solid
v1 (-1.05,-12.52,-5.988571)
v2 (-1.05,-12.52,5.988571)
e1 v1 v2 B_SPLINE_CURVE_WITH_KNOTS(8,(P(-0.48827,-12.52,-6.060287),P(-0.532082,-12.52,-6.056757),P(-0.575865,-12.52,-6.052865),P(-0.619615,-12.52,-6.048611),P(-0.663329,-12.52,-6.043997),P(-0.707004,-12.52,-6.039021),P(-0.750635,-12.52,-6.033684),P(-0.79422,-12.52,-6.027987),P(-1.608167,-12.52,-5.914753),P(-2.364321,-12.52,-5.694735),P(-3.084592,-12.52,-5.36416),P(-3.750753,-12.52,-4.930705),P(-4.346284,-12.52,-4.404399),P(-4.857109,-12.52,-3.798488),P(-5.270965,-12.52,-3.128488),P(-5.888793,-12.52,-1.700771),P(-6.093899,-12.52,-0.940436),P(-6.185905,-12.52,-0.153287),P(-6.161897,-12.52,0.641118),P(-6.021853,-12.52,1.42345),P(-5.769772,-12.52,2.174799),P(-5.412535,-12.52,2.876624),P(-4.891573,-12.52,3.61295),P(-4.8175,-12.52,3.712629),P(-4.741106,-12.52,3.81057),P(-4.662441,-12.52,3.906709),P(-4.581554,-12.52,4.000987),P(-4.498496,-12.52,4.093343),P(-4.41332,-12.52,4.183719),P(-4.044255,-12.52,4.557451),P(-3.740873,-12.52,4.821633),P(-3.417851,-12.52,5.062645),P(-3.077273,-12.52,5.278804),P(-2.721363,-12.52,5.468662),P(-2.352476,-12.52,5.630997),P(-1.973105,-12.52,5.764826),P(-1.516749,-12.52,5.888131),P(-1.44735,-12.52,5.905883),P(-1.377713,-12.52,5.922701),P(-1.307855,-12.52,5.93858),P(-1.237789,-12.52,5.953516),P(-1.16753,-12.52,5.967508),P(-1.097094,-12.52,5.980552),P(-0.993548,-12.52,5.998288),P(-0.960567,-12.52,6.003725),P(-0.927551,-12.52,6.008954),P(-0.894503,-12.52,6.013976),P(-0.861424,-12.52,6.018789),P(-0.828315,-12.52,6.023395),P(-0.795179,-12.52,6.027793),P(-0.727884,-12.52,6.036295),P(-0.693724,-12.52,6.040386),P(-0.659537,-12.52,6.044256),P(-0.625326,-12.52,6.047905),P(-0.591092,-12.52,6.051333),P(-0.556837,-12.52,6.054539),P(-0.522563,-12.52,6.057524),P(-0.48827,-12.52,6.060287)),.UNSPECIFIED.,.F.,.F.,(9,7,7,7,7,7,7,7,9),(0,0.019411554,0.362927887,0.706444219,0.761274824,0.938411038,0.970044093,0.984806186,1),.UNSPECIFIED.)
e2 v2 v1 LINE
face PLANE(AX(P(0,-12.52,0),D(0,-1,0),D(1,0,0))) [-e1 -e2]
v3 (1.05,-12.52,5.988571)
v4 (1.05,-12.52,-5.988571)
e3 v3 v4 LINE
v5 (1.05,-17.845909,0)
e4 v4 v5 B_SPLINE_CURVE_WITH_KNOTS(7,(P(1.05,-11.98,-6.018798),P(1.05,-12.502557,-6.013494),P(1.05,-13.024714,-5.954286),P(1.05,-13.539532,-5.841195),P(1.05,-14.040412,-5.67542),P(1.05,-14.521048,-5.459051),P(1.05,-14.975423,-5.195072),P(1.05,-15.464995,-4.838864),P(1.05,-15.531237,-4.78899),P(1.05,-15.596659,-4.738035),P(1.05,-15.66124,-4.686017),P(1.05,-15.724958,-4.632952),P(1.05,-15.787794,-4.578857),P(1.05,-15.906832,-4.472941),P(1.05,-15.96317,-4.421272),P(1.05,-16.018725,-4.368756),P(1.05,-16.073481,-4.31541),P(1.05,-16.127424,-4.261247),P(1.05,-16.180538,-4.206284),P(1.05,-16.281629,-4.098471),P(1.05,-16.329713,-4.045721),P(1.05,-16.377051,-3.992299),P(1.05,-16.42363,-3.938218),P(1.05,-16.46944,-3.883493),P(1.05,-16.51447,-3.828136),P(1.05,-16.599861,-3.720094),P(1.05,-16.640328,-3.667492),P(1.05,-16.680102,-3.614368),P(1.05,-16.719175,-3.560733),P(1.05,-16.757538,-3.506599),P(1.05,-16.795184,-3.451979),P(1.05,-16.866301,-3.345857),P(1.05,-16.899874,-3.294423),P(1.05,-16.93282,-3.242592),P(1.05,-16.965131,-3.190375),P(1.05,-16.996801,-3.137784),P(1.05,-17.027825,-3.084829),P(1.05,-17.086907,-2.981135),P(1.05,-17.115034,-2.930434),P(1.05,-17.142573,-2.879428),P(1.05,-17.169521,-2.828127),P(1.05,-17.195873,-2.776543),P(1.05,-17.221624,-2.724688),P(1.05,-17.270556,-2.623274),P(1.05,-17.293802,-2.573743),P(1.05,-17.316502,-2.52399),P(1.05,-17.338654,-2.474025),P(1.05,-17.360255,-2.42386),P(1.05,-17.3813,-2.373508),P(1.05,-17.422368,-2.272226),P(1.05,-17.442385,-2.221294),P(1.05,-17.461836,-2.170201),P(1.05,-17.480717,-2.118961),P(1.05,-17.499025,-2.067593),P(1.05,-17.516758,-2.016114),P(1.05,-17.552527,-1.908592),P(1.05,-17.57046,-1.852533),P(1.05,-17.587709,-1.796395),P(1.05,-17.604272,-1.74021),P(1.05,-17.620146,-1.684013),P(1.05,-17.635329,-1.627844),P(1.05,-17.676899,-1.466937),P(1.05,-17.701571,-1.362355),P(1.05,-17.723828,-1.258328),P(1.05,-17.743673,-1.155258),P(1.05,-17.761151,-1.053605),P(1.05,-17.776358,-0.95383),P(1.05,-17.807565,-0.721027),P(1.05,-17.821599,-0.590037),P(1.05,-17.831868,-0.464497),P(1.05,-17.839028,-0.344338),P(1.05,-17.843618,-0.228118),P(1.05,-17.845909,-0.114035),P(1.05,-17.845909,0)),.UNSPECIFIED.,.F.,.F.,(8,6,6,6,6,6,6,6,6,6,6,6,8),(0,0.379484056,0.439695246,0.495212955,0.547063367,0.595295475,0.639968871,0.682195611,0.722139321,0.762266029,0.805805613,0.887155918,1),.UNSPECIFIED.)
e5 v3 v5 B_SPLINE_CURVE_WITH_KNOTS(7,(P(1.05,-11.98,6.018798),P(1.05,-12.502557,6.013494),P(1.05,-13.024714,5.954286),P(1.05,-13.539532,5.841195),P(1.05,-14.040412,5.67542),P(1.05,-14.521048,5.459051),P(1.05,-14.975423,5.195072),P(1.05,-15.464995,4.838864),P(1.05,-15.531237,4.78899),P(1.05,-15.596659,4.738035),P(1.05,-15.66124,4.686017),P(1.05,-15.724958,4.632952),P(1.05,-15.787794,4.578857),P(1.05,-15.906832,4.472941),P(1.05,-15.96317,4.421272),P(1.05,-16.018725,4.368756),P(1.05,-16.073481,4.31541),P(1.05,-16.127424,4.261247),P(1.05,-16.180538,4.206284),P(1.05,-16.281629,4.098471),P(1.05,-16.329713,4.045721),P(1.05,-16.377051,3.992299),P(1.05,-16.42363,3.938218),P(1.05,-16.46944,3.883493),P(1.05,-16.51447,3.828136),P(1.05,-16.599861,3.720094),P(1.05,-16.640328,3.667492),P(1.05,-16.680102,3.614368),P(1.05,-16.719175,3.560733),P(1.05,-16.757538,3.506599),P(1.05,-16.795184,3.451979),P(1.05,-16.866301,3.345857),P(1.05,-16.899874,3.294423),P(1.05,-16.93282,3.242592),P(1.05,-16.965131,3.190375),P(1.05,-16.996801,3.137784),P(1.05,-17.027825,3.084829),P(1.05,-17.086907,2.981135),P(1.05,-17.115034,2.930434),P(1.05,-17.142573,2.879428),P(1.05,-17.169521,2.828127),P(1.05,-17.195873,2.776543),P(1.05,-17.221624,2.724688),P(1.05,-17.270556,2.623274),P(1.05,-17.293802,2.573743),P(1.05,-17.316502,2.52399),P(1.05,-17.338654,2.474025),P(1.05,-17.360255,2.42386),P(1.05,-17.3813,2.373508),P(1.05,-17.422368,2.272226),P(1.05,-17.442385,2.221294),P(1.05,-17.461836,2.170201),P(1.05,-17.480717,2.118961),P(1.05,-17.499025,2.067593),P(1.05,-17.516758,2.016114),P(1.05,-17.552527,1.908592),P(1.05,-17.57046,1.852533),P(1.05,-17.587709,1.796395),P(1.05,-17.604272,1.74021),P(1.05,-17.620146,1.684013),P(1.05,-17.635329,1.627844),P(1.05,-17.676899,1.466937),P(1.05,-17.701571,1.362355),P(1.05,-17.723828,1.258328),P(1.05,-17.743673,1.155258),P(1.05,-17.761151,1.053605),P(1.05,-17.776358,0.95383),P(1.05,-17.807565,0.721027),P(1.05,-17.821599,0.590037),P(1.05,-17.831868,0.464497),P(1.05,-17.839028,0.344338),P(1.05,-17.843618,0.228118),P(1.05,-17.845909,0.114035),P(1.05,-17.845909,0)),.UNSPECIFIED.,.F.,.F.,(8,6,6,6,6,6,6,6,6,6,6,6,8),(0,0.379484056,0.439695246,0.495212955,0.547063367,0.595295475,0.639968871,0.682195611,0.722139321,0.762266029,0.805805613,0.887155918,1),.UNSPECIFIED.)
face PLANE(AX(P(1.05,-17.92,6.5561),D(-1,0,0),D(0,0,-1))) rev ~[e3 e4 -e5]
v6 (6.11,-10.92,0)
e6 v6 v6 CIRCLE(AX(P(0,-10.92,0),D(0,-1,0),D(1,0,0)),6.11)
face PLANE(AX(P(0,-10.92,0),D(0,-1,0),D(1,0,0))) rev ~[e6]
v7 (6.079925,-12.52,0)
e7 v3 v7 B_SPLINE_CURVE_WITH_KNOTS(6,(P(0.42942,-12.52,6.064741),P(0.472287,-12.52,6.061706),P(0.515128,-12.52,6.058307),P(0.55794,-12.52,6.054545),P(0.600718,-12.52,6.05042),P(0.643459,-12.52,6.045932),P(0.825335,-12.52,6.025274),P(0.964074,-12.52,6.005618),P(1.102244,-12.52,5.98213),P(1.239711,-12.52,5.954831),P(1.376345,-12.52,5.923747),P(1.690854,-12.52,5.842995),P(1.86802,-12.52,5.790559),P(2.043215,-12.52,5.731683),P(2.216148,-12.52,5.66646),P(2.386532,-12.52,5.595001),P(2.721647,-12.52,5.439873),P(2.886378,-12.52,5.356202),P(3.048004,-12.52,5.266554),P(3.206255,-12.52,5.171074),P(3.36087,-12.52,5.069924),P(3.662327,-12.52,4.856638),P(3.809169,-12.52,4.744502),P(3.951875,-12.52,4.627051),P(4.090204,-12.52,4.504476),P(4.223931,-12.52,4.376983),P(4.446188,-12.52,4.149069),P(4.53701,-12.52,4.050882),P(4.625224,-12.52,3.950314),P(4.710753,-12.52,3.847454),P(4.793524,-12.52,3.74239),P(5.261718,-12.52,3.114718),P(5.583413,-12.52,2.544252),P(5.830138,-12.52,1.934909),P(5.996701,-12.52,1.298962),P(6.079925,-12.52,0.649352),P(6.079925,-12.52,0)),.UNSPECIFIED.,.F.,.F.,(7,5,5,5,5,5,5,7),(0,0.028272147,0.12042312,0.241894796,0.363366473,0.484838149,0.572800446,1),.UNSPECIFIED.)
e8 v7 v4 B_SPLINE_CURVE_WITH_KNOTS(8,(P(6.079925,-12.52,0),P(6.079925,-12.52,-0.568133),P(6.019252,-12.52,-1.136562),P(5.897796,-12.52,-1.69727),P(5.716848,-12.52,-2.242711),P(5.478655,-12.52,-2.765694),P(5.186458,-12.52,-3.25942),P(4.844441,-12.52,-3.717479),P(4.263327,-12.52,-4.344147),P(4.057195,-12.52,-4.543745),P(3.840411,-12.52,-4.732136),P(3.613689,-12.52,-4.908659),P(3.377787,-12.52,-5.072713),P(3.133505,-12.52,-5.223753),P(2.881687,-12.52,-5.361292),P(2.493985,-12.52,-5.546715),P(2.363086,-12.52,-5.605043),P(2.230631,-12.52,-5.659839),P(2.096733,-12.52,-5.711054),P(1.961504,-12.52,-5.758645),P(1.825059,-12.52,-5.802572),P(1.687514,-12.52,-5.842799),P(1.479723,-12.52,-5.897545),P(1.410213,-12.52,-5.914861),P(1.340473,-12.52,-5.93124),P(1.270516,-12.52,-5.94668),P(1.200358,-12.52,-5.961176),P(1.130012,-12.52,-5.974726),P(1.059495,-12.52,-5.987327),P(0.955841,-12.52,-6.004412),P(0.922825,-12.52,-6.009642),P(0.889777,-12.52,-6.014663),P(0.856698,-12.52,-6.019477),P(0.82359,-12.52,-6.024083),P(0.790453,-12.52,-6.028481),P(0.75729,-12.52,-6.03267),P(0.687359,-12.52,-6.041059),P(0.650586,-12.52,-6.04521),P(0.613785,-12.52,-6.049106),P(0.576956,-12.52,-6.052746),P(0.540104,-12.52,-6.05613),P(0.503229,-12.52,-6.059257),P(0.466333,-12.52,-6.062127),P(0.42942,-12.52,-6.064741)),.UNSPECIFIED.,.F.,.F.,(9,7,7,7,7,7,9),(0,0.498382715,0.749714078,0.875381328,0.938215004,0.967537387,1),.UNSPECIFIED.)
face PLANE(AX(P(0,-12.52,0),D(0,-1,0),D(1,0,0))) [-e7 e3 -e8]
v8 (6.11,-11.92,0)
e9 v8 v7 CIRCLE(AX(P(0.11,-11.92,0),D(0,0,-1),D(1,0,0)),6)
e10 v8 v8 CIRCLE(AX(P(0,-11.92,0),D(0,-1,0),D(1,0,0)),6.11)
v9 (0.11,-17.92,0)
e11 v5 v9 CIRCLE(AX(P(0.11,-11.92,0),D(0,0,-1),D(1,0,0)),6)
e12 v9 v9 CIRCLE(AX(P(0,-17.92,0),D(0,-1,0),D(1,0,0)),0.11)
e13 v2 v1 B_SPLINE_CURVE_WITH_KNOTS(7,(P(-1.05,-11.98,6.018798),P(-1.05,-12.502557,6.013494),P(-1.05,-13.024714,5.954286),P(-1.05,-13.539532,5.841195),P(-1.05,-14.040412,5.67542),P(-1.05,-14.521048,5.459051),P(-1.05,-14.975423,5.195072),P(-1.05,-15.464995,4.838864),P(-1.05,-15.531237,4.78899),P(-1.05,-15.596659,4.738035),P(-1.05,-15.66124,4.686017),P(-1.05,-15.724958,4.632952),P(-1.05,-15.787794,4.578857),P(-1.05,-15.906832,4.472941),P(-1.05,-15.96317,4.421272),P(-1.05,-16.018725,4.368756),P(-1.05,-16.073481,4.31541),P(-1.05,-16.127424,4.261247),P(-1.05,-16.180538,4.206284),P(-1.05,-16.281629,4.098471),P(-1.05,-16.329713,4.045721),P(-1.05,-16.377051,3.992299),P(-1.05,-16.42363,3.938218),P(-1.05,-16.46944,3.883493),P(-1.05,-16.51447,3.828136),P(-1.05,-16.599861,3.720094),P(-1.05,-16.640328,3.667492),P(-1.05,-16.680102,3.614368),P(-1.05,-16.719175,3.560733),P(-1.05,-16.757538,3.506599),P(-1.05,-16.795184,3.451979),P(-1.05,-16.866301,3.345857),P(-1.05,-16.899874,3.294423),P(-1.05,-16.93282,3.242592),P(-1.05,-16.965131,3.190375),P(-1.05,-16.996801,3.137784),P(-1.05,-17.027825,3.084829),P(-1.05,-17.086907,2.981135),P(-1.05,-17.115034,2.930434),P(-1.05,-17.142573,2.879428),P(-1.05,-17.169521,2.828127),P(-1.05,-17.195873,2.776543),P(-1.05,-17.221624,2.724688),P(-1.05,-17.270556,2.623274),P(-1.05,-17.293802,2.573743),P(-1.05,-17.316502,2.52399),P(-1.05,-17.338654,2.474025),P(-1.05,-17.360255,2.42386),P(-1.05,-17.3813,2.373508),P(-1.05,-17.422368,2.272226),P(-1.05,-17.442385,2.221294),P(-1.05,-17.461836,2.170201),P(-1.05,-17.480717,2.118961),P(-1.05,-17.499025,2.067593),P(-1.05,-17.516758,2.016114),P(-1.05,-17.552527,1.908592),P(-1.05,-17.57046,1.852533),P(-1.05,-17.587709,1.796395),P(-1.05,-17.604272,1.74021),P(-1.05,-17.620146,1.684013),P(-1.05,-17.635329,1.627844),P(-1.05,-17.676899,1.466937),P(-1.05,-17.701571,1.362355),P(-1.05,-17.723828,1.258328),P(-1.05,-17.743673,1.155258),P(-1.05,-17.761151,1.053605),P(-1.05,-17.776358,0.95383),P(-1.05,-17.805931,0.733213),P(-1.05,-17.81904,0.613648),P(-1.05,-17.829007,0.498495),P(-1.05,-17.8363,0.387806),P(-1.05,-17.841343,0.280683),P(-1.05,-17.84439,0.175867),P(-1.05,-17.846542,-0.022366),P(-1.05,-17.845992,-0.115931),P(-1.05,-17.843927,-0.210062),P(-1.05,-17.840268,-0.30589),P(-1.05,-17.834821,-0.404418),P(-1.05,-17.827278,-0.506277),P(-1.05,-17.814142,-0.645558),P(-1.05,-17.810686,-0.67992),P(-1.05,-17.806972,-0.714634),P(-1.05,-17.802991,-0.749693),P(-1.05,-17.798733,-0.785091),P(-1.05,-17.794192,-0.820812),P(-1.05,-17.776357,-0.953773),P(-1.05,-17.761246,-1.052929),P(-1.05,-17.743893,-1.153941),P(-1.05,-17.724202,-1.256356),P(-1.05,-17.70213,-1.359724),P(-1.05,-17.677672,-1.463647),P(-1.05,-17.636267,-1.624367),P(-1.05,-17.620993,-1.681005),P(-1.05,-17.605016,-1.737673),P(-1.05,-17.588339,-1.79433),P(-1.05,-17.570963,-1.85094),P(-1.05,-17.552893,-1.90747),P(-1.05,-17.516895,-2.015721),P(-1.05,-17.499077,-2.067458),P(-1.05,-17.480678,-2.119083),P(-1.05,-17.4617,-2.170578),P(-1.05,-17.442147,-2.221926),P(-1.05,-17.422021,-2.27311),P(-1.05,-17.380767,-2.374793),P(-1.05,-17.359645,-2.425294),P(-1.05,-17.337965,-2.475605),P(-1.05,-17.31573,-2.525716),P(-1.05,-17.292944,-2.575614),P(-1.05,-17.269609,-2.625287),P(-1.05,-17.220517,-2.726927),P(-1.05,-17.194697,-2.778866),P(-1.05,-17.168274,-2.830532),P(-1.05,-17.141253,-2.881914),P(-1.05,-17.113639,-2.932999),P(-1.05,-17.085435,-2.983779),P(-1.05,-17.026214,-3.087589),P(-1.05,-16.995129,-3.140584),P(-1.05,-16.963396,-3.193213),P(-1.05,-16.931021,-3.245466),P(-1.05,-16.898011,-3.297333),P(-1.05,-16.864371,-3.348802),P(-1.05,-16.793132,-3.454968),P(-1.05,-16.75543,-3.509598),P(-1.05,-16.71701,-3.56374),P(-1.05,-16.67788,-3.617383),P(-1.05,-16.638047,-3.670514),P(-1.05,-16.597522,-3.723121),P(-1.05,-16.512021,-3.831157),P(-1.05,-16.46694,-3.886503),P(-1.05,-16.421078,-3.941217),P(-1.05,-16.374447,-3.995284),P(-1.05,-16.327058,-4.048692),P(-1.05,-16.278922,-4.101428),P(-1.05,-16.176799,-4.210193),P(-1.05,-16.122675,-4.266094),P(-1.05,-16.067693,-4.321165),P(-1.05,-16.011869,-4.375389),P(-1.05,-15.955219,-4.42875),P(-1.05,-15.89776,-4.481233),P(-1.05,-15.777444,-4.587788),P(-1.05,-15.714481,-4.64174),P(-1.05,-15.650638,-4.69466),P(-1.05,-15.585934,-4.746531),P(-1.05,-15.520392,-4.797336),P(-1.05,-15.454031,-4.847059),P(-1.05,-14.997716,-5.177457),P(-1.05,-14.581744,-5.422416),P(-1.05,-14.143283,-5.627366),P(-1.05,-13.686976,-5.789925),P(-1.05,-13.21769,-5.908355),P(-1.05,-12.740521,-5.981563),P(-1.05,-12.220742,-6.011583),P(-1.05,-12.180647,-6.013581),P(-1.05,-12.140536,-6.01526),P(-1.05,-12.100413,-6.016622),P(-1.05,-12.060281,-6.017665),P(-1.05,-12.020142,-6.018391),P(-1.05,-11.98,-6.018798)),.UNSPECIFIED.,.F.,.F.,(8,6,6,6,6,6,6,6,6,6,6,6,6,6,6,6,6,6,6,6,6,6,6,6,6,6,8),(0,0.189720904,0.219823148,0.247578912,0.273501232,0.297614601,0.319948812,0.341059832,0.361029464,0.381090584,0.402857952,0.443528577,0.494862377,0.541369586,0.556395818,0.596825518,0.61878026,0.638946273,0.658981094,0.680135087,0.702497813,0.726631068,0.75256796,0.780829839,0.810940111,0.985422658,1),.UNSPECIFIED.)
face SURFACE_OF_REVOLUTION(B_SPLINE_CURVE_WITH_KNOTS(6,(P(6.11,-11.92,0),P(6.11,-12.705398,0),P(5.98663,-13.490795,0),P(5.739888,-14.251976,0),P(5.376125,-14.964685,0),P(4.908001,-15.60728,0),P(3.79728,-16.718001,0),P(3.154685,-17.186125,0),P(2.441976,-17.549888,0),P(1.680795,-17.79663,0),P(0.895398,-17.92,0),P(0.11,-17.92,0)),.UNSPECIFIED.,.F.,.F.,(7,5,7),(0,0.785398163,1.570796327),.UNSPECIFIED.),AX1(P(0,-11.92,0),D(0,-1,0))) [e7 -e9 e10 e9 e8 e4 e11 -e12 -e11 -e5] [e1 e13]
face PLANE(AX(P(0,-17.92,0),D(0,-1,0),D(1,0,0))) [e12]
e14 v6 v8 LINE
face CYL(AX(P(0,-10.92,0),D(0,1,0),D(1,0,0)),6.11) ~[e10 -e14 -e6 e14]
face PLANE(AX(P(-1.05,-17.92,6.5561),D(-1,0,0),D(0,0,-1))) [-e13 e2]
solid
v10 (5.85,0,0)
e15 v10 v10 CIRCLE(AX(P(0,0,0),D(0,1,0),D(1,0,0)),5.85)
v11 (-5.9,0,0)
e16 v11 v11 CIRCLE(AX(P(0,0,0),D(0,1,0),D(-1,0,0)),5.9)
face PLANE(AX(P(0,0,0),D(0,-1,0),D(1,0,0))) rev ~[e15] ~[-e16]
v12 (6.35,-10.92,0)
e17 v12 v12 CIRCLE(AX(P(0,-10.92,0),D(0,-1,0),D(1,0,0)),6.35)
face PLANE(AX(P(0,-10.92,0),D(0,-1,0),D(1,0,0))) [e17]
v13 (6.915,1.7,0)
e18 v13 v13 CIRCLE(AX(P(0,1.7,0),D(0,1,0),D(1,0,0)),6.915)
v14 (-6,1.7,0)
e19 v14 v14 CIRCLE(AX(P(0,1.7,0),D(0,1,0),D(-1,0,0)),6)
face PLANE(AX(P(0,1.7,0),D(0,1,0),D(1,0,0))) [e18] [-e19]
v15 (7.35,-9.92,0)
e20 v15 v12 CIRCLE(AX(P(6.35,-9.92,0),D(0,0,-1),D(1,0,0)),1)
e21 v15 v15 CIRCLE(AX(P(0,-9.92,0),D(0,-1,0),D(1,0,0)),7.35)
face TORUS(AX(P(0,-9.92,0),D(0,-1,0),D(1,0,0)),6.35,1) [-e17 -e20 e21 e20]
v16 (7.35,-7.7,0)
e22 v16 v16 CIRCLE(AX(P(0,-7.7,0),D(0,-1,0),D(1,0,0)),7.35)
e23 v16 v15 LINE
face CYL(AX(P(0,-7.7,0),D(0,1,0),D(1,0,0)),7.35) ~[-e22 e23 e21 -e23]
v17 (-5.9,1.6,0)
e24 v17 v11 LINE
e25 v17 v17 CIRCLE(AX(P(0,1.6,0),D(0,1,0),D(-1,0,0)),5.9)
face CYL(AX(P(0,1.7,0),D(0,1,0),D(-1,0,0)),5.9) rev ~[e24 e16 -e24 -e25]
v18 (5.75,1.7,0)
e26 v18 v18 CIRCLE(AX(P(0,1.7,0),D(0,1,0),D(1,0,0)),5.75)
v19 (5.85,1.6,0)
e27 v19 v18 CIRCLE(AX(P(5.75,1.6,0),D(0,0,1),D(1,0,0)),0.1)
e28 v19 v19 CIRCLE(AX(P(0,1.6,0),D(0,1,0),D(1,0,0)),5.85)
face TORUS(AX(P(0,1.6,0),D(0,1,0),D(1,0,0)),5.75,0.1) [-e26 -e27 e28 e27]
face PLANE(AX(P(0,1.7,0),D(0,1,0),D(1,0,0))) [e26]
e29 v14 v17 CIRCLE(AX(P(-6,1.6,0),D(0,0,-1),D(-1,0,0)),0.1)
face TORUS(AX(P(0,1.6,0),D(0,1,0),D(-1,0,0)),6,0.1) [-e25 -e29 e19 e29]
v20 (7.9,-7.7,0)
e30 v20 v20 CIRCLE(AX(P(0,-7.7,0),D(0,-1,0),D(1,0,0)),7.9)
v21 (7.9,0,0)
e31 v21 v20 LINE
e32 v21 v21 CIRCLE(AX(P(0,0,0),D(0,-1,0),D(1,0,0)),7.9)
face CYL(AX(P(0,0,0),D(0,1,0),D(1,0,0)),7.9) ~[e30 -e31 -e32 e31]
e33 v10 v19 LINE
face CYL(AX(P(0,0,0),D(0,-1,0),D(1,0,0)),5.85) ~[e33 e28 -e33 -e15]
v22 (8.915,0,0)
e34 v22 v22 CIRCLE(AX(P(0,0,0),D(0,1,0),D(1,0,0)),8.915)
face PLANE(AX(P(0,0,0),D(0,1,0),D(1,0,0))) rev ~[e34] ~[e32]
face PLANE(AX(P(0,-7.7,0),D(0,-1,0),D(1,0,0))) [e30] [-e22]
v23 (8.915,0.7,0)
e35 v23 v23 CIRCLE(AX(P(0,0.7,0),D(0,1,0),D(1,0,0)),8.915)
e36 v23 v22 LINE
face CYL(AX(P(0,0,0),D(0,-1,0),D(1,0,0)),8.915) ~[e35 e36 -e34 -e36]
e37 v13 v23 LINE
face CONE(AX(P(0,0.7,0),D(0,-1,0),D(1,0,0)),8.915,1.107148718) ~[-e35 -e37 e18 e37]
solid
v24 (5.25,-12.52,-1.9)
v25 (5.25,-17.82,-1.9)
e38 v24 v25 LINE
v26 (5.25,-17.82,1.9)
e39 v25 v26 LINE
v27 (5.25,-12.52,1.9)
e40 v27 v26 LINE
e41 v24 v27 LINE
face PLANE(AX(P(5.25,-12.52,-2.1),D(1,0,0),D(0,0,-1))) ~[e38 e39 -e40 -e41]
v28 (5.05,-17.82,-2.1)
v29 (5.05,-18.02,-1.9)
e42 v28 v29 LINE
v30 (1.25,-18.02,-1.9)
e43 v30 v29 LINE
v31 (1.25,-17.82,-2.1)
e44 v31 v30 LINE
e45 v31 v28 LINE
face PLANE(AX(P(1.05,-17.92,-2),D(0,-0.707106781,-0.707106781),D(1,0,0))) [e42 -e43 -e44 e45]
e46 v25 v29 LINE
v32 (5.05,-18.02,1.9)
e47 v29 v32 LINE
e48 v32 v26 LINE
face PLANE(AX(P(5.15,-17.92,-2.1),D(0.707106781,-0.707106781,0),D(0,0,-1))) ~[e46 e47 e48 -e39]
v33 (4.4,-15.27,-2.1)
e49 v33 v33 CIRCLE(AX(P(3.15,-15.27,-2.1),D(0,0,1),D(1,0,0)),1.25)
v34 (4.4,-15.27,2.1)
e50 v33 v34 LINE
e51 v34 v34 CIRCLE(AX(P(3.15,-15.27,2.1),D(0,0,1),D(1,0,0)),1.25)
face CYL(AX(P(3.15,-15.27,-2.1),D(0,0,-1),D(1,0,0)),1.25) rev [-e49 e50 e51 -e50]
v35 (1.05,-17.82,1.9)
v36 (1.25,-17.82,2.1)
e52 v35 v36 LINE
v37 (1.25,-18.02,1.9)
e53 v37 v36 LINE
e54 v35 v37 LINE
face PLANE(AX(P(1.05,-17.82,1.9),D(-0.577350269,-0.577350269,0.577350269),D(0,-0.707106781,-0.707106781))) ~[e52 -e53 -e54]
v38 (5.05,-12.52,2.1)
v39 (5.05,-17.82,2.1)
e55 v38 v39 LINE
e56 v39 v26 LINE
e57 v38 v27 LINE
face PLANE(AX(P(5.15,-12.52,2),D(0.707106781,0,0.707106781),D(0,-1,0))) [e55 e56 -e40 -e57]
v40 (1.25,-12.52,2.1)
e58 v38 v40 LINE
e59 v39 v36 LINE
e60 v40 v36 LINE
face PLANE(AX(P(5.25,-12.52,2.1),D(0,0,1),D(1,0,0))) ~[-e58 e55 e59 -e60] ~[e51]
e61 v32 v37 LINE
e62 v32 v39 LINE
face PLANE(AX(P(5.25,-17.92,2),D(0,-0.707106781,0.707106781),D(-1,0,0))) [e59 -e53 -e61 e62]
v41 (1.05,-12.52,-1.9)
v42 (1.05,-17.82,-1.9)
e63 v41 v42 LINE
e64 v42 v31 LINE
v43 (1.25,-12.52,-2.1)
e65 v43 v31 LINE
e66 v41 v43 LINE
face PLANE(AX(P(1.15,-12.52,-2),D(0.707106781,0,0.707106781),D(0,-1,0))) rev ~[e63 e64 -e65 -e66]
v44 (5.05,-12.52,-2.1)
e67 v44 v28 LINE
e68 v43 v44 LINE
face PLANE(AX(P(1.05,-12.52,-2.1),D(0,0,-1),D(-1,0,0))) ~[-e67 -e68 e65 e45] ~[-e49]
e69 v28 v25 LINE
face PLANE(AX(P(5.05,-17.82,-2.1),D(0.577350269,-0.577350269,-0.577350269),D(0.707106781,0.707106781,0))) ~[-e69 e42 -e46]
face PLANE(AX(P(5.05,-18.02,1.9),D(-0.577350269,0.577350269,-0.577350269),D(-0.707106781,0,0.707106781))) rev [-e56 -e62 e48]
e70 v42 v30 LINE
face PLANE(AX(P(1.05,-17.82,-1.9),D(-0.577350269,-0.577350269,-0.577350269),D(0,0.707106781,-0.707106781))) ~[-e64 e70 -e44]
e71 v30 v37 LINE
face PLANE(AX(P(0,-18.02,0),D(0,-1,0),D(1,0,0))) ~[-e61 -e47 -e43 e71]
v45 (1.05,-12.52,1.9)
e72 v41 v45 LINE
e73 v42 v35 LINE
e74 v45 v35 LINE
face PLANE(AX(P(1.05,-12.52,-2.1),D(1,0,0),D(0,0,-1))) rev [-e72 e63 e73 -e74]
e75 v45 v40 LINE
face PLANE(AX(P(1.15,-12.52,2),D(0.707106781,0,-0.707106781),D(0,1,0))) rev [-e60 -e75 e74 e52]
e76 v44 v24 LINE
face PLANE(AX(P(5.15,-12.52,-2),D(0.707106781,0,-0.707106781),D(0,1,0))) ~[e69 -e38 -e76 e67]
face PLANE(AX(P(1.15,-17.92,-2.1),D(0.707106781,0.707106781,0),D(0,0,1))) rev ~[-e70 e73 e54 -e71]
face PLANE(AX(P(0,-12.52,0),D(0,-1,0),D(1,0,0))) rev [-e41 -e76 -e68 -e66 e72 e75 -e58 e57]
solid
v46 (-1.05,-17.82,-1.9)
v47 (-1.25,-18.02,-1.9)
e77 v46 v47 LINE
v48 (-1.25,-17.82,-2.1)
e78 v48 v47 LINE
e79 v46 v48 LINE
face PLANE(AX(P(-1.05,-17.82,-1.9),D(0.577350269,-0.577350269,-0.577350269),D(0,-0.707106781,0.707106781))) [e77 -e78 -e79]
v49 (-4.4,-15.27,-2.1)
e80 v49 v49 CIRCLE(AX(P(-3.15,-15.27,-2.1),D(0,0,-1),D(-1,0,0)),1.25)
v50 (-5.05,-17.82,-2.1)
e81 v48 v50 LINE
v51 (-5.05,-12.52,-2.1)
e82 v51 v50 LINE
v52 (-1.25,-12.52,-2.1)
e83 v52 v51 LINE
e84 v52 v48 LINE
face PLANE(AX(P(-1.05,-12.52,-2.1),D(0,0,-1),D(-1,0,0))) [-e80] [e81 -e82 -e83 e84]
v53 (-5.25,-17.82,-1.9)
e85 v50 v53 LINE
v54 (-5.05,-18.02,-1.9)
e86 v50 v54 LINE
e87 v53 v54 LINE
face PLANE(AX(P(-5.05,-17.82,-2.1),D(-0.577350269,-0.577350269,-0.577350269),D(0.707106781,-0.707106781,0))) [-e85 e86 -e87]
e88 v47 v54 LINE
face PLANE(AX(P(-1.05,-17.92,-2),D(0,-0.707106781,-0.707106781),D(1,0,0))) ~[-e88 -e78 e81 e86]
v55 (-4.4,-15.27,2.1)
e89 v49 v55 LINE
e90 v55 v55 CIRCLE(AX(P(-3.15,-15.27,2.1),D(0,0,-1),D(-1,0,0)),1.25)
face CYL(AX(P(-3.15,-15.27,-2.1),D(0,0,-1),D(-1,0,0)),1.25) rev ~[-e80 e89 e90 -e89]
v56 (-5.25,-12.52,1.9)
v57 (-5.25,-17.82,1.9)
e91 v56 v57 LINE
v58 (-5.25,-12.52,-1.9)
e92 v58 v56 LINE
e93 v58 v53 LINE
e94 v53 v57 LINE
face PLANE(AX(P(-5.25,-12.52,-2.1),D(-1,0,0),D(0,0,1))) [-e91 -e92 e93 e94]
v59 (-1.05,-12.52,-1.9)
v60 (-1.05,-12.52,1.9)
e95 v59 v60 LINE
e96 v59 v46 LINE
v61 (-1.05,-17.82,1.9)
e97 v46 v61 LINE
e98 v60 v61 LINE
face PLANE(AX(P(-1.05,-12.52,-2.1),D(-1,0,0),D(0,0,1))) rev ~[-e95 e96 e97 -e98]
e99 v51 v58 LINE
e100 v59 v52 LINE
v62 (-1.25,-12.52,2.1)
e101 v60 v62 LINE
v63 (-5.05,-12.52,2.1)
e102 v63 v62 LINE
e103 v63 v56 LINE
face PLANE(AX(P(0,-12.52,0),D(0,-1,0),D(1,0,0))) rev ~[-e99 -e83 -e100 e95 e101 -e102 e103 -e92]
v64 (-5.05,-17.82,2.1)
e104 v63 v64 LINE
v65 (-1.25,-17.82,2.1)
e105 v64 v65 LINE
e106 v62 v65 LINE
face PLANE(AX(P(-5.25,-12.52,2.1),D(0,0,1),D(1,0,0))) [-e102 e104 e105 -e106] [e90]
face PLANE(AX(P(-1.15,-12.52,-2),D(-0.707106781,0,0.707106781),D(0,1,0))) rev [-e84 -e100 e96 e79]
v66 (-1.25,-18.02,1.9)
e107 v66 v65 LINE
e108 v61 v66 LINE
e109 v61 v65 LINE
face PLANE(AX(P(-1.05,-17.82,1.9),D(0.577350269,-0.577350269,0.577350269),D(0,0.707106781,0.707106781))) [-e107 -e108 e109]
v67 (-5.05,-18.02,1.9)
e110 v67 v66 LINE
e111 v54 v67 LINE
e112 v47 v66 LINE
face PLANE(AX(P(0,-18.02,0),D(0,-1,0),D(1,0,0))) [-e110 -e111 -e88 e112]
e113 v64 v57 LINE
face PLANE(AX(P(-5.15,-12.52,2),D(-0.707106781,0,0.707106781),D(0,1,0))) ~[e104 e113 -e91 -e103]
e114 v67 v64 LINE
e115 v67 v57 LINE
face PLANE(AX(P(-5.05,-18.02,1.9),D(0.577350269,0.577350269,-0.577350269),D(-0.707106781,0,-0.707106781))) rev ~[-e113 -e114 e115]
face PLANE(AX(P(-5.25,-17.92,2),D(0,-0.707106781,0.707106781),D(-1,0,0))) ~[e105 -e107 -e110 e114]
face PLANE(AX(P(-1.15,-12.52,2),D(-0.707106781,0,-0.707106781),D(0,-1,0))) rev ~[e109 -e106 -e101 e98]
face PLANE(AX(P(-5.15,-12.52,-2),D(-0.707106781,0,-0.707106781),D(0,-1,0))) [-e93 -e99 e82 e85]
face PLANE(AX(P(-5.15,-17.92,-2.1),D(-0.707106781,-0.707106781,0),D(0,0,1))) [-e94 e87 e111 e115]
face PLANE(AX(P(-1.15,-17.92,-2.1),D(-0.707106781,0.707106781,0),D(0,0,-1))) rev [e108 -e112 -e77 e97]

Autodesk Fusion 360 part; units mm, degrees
sketch "Sketch1" plane through (0, 0, 0) normal (0, 1, 0) x (1, 0, 0) in component "MetalBody"
  circle A0 centre (0, 0) radius 8.915
  dimension "d1" = 17.83
extrude "Extrude1" add sketch "Sketch1" along normal blind 0.7 makes body 1 in component "MetalBody"
extrude "Extrude2" add 1 faces at (-0.2221, 0.7, -2.5691) along direction (0, 1, 0) blind 1 on bodies 1 bodies 1 in component "MetalBody"
chamfer "Chamfer1" distance 2 distance2 1 1 edges at (-8.3117, 1.7, 3.2238) measured on face at (-0.2221, 1.7, -2.5691) on bodies 1 in component "MetalBody"
sketch "Sketch2" plane through (0, 1.7, 0) normal (0, 1, 0) x (-1, 0, 0) in component "MetalBody"
  circle A0 centre (0, 0) radius 6.915
  circle A1 centre (0, 0) radius 5.9
  dimension "d8" = 11.8
extrude "Extrude3" cut sketch "Sketch2" against normal through all contours A1 bodies 1 in component "MetalBody"
sketch "Sketch3" plane through (0, 0, 0) normal (0, 1, 0) x (1, 0, 0) in component "MetalBody"
  circle A0 centre (0, 0) radius 5.85
  dimension "d10" = 11.7
extrude "Extrude4" add sketch "Sketch3" along normal up to surface (1.7 mm away) separate body makes body 2 in component "MetalBody"
fillet "Fillet1" radius 0.1 2 edges at (5.5007, 1.7, 2.1335) (-5.4541, 1.7, -2.1155) on bodies 1 2 in component "MetalBody"
sketch "Sketch4" plane through (0, 0, 0) normal (0, -1, 0) x (1, 0, 0) in component "MetalBody"
  circle A0 centre (0, 0) radius 5.85
  circle A1 centre (0, 0) radius 7.9
  dimension "d14" = 15.8
extrude "Extrude5" add sketch "Sketch4" along normal blind 7.7 contours A0 | A1 bodies 1 2 in component "MetalBody"
sketch "Sketch5" plane through (0, -7.7, 0) normal (0, -1, 0) x (1, 0, 0) in component "MetalBody"
  circle A0 centre (0, 0) radius 7.9
  circle A1 centre (0, 0) radius 7.35
  dimension "d17" = 14.7
extrude "Extrude6" add sketch "Sketch5" along normal blind 3.22 contours A1 bodies 1 in component "MetalBody"
sketch "Sketch1 (2)" plane through (0, -10.92, 0) normal (0, -1, 0) x (1, 0, 0) in component "Plastic"
  circle A0 centre (0, 0) radius 7.35
  circle A1 centre (0, 0) radius 6.11
  dimension "d20" = 12.22
extrude "Extrude1'" add sketch "Sketch1 (2)" along normal blind 7 separate body contours A1 makes body 3 in component "Plastic"
fillet "Fillet1'" radius 6 1 edges at (-5.6965, -17.92, -2.2095) on bodies 3 in component "Plastic"
sketch "Sketch2 (2)" plane through (0, -17.92, 0) normal (0, -1, 0) x (1, 0, 0) in component "Plastic"
  circle A0 centre (0, 0) radius 0.11
  line L0 (1.05, 0) -> (-1.05, 0) construction
  line L1 (-1.05, -6.3688) -> (-6.6673, -6.3688)
  line L2 (-6.6673, -6.3688) -> (-6.6673, 6.5561)
  line L3 (-6.6673, 6.5561) -> (-1.05, 6.5561)
  line L4 (-1.05, 6.5561) -> (-1.05, -6.3688)
  line L5 (1.05, -6.3688) -> (7.2558, -6.3688)
  line L6 (7.2558, -6.3688) -> (7.2558, 6.5561)
  line L7 (7.2558, 6.5561) -> (1.05, 6.5561)
  line L8 (1.05, 6.5561) -> (1.05, -6.3688)
  dimension "d24" = 2.1
extrude "Extrude2'" cut sketch "Sketch2 (2)" against normal blind 5.4 contours L1 L2 L3 L4 | L5 L6 L7 L8 bodies 3 in component "Plastic"
sketch "Sketch6" plane through (0, -12.52, 0) normal (0, -1, 0) x (1, 0, 0) in component "MetalBody"
  arc A0 (-1.05, 5.9886) -> (-1.05, -5.9886) centre (0, 0) ccw
  line L0 (-1.05, -5.9886) -> (-1.05, 5.9886)
  line L1 (-5.25, 2.1) -> (-1.05, 2.1)
  line L2 (-1.05, 2.1) -> (-1.05, -2.1)
  line L3 (-1.05, -2.1) -> (-5.25, -2.1)
  line L4 (-5.25, -2.1) -> (-5.25, 2.1)
  line L5 (0, 0) -> (-1.05, 0) construction
  dimension "d27" = 4.2
  dimension "d28" = 4.2
extrude "Extrude7" add sketch "Sketch6" along normal blind 5.5 separate body contours L0 L1 L2 L3 L4 makes body 4 in component "MetalBody"
sketch "Sketch7" plane through (0, 0, -2.1) normal (0, 0, -1) x (-1, 0, 0) in component "MetalBody"
  line L0 (5.25, -12.52) -> (1.05, -12.52)
  line L1 (1.05, -12.52) -> (1.05, -18.02)
  line L2 (1.05, -18.02) -> (5.25, -18.02)
  line L3 (5.25, -18.02) -> (5.25, -12.52)
  line L4 (3.15, -12.52) -> (3.15, -18.02) construction
  circle A0 centre (3.15, -15.27) radius 1.25
  dimension "d31" = 2.5
extrude "Extrude8" cut sketch "Sketch7" against normal through all contours A0 bodies 4 in component "MetalBody"
chamfer "Chamfer2" distance 0.2 angle 45 8 edges at (-5.25, -15.27, 2.1) (-3.15, -18.02, 2.1) (-5.25, -18.02, 0) (-5.25, -15.27, -2.1) (-3.15, -18.02, -2.1) (-1.05, -15.27, -2.1) (-1.05, -18.02, 0) (-1.05, -15.27, 2.1) on bodies 4 in component "MetalBody"
mirror "Mirror1" about plane through (0, 0, 0) normal (1, 0, 0) of bodies 4 makes body 5 in component "MetalBody"
fillet "Fillet2" radius 1 1 edges at (-6.8526, -10.92, -2.6579) on bodies 1 in component "MetalBody"
thread "Thread1" in component "MetalBody"
component "Button" placed x (1, 0, 0) y (0, 1, 0) z (0, 0, 1) at (0, 0, 0)
component "MetalBody" placed x (1, 0, 0) y (0, 1, 0) z (0, 0, 1) at (0, 0, 0) in component "Button"
component "Plastic" placed x (1, 0, 0) y (0, 1, 0) z (0, 0, 1) at (0, 0, 0) in component "Button"
equation "d15 = 9.4 mm - 1.7 mm"
